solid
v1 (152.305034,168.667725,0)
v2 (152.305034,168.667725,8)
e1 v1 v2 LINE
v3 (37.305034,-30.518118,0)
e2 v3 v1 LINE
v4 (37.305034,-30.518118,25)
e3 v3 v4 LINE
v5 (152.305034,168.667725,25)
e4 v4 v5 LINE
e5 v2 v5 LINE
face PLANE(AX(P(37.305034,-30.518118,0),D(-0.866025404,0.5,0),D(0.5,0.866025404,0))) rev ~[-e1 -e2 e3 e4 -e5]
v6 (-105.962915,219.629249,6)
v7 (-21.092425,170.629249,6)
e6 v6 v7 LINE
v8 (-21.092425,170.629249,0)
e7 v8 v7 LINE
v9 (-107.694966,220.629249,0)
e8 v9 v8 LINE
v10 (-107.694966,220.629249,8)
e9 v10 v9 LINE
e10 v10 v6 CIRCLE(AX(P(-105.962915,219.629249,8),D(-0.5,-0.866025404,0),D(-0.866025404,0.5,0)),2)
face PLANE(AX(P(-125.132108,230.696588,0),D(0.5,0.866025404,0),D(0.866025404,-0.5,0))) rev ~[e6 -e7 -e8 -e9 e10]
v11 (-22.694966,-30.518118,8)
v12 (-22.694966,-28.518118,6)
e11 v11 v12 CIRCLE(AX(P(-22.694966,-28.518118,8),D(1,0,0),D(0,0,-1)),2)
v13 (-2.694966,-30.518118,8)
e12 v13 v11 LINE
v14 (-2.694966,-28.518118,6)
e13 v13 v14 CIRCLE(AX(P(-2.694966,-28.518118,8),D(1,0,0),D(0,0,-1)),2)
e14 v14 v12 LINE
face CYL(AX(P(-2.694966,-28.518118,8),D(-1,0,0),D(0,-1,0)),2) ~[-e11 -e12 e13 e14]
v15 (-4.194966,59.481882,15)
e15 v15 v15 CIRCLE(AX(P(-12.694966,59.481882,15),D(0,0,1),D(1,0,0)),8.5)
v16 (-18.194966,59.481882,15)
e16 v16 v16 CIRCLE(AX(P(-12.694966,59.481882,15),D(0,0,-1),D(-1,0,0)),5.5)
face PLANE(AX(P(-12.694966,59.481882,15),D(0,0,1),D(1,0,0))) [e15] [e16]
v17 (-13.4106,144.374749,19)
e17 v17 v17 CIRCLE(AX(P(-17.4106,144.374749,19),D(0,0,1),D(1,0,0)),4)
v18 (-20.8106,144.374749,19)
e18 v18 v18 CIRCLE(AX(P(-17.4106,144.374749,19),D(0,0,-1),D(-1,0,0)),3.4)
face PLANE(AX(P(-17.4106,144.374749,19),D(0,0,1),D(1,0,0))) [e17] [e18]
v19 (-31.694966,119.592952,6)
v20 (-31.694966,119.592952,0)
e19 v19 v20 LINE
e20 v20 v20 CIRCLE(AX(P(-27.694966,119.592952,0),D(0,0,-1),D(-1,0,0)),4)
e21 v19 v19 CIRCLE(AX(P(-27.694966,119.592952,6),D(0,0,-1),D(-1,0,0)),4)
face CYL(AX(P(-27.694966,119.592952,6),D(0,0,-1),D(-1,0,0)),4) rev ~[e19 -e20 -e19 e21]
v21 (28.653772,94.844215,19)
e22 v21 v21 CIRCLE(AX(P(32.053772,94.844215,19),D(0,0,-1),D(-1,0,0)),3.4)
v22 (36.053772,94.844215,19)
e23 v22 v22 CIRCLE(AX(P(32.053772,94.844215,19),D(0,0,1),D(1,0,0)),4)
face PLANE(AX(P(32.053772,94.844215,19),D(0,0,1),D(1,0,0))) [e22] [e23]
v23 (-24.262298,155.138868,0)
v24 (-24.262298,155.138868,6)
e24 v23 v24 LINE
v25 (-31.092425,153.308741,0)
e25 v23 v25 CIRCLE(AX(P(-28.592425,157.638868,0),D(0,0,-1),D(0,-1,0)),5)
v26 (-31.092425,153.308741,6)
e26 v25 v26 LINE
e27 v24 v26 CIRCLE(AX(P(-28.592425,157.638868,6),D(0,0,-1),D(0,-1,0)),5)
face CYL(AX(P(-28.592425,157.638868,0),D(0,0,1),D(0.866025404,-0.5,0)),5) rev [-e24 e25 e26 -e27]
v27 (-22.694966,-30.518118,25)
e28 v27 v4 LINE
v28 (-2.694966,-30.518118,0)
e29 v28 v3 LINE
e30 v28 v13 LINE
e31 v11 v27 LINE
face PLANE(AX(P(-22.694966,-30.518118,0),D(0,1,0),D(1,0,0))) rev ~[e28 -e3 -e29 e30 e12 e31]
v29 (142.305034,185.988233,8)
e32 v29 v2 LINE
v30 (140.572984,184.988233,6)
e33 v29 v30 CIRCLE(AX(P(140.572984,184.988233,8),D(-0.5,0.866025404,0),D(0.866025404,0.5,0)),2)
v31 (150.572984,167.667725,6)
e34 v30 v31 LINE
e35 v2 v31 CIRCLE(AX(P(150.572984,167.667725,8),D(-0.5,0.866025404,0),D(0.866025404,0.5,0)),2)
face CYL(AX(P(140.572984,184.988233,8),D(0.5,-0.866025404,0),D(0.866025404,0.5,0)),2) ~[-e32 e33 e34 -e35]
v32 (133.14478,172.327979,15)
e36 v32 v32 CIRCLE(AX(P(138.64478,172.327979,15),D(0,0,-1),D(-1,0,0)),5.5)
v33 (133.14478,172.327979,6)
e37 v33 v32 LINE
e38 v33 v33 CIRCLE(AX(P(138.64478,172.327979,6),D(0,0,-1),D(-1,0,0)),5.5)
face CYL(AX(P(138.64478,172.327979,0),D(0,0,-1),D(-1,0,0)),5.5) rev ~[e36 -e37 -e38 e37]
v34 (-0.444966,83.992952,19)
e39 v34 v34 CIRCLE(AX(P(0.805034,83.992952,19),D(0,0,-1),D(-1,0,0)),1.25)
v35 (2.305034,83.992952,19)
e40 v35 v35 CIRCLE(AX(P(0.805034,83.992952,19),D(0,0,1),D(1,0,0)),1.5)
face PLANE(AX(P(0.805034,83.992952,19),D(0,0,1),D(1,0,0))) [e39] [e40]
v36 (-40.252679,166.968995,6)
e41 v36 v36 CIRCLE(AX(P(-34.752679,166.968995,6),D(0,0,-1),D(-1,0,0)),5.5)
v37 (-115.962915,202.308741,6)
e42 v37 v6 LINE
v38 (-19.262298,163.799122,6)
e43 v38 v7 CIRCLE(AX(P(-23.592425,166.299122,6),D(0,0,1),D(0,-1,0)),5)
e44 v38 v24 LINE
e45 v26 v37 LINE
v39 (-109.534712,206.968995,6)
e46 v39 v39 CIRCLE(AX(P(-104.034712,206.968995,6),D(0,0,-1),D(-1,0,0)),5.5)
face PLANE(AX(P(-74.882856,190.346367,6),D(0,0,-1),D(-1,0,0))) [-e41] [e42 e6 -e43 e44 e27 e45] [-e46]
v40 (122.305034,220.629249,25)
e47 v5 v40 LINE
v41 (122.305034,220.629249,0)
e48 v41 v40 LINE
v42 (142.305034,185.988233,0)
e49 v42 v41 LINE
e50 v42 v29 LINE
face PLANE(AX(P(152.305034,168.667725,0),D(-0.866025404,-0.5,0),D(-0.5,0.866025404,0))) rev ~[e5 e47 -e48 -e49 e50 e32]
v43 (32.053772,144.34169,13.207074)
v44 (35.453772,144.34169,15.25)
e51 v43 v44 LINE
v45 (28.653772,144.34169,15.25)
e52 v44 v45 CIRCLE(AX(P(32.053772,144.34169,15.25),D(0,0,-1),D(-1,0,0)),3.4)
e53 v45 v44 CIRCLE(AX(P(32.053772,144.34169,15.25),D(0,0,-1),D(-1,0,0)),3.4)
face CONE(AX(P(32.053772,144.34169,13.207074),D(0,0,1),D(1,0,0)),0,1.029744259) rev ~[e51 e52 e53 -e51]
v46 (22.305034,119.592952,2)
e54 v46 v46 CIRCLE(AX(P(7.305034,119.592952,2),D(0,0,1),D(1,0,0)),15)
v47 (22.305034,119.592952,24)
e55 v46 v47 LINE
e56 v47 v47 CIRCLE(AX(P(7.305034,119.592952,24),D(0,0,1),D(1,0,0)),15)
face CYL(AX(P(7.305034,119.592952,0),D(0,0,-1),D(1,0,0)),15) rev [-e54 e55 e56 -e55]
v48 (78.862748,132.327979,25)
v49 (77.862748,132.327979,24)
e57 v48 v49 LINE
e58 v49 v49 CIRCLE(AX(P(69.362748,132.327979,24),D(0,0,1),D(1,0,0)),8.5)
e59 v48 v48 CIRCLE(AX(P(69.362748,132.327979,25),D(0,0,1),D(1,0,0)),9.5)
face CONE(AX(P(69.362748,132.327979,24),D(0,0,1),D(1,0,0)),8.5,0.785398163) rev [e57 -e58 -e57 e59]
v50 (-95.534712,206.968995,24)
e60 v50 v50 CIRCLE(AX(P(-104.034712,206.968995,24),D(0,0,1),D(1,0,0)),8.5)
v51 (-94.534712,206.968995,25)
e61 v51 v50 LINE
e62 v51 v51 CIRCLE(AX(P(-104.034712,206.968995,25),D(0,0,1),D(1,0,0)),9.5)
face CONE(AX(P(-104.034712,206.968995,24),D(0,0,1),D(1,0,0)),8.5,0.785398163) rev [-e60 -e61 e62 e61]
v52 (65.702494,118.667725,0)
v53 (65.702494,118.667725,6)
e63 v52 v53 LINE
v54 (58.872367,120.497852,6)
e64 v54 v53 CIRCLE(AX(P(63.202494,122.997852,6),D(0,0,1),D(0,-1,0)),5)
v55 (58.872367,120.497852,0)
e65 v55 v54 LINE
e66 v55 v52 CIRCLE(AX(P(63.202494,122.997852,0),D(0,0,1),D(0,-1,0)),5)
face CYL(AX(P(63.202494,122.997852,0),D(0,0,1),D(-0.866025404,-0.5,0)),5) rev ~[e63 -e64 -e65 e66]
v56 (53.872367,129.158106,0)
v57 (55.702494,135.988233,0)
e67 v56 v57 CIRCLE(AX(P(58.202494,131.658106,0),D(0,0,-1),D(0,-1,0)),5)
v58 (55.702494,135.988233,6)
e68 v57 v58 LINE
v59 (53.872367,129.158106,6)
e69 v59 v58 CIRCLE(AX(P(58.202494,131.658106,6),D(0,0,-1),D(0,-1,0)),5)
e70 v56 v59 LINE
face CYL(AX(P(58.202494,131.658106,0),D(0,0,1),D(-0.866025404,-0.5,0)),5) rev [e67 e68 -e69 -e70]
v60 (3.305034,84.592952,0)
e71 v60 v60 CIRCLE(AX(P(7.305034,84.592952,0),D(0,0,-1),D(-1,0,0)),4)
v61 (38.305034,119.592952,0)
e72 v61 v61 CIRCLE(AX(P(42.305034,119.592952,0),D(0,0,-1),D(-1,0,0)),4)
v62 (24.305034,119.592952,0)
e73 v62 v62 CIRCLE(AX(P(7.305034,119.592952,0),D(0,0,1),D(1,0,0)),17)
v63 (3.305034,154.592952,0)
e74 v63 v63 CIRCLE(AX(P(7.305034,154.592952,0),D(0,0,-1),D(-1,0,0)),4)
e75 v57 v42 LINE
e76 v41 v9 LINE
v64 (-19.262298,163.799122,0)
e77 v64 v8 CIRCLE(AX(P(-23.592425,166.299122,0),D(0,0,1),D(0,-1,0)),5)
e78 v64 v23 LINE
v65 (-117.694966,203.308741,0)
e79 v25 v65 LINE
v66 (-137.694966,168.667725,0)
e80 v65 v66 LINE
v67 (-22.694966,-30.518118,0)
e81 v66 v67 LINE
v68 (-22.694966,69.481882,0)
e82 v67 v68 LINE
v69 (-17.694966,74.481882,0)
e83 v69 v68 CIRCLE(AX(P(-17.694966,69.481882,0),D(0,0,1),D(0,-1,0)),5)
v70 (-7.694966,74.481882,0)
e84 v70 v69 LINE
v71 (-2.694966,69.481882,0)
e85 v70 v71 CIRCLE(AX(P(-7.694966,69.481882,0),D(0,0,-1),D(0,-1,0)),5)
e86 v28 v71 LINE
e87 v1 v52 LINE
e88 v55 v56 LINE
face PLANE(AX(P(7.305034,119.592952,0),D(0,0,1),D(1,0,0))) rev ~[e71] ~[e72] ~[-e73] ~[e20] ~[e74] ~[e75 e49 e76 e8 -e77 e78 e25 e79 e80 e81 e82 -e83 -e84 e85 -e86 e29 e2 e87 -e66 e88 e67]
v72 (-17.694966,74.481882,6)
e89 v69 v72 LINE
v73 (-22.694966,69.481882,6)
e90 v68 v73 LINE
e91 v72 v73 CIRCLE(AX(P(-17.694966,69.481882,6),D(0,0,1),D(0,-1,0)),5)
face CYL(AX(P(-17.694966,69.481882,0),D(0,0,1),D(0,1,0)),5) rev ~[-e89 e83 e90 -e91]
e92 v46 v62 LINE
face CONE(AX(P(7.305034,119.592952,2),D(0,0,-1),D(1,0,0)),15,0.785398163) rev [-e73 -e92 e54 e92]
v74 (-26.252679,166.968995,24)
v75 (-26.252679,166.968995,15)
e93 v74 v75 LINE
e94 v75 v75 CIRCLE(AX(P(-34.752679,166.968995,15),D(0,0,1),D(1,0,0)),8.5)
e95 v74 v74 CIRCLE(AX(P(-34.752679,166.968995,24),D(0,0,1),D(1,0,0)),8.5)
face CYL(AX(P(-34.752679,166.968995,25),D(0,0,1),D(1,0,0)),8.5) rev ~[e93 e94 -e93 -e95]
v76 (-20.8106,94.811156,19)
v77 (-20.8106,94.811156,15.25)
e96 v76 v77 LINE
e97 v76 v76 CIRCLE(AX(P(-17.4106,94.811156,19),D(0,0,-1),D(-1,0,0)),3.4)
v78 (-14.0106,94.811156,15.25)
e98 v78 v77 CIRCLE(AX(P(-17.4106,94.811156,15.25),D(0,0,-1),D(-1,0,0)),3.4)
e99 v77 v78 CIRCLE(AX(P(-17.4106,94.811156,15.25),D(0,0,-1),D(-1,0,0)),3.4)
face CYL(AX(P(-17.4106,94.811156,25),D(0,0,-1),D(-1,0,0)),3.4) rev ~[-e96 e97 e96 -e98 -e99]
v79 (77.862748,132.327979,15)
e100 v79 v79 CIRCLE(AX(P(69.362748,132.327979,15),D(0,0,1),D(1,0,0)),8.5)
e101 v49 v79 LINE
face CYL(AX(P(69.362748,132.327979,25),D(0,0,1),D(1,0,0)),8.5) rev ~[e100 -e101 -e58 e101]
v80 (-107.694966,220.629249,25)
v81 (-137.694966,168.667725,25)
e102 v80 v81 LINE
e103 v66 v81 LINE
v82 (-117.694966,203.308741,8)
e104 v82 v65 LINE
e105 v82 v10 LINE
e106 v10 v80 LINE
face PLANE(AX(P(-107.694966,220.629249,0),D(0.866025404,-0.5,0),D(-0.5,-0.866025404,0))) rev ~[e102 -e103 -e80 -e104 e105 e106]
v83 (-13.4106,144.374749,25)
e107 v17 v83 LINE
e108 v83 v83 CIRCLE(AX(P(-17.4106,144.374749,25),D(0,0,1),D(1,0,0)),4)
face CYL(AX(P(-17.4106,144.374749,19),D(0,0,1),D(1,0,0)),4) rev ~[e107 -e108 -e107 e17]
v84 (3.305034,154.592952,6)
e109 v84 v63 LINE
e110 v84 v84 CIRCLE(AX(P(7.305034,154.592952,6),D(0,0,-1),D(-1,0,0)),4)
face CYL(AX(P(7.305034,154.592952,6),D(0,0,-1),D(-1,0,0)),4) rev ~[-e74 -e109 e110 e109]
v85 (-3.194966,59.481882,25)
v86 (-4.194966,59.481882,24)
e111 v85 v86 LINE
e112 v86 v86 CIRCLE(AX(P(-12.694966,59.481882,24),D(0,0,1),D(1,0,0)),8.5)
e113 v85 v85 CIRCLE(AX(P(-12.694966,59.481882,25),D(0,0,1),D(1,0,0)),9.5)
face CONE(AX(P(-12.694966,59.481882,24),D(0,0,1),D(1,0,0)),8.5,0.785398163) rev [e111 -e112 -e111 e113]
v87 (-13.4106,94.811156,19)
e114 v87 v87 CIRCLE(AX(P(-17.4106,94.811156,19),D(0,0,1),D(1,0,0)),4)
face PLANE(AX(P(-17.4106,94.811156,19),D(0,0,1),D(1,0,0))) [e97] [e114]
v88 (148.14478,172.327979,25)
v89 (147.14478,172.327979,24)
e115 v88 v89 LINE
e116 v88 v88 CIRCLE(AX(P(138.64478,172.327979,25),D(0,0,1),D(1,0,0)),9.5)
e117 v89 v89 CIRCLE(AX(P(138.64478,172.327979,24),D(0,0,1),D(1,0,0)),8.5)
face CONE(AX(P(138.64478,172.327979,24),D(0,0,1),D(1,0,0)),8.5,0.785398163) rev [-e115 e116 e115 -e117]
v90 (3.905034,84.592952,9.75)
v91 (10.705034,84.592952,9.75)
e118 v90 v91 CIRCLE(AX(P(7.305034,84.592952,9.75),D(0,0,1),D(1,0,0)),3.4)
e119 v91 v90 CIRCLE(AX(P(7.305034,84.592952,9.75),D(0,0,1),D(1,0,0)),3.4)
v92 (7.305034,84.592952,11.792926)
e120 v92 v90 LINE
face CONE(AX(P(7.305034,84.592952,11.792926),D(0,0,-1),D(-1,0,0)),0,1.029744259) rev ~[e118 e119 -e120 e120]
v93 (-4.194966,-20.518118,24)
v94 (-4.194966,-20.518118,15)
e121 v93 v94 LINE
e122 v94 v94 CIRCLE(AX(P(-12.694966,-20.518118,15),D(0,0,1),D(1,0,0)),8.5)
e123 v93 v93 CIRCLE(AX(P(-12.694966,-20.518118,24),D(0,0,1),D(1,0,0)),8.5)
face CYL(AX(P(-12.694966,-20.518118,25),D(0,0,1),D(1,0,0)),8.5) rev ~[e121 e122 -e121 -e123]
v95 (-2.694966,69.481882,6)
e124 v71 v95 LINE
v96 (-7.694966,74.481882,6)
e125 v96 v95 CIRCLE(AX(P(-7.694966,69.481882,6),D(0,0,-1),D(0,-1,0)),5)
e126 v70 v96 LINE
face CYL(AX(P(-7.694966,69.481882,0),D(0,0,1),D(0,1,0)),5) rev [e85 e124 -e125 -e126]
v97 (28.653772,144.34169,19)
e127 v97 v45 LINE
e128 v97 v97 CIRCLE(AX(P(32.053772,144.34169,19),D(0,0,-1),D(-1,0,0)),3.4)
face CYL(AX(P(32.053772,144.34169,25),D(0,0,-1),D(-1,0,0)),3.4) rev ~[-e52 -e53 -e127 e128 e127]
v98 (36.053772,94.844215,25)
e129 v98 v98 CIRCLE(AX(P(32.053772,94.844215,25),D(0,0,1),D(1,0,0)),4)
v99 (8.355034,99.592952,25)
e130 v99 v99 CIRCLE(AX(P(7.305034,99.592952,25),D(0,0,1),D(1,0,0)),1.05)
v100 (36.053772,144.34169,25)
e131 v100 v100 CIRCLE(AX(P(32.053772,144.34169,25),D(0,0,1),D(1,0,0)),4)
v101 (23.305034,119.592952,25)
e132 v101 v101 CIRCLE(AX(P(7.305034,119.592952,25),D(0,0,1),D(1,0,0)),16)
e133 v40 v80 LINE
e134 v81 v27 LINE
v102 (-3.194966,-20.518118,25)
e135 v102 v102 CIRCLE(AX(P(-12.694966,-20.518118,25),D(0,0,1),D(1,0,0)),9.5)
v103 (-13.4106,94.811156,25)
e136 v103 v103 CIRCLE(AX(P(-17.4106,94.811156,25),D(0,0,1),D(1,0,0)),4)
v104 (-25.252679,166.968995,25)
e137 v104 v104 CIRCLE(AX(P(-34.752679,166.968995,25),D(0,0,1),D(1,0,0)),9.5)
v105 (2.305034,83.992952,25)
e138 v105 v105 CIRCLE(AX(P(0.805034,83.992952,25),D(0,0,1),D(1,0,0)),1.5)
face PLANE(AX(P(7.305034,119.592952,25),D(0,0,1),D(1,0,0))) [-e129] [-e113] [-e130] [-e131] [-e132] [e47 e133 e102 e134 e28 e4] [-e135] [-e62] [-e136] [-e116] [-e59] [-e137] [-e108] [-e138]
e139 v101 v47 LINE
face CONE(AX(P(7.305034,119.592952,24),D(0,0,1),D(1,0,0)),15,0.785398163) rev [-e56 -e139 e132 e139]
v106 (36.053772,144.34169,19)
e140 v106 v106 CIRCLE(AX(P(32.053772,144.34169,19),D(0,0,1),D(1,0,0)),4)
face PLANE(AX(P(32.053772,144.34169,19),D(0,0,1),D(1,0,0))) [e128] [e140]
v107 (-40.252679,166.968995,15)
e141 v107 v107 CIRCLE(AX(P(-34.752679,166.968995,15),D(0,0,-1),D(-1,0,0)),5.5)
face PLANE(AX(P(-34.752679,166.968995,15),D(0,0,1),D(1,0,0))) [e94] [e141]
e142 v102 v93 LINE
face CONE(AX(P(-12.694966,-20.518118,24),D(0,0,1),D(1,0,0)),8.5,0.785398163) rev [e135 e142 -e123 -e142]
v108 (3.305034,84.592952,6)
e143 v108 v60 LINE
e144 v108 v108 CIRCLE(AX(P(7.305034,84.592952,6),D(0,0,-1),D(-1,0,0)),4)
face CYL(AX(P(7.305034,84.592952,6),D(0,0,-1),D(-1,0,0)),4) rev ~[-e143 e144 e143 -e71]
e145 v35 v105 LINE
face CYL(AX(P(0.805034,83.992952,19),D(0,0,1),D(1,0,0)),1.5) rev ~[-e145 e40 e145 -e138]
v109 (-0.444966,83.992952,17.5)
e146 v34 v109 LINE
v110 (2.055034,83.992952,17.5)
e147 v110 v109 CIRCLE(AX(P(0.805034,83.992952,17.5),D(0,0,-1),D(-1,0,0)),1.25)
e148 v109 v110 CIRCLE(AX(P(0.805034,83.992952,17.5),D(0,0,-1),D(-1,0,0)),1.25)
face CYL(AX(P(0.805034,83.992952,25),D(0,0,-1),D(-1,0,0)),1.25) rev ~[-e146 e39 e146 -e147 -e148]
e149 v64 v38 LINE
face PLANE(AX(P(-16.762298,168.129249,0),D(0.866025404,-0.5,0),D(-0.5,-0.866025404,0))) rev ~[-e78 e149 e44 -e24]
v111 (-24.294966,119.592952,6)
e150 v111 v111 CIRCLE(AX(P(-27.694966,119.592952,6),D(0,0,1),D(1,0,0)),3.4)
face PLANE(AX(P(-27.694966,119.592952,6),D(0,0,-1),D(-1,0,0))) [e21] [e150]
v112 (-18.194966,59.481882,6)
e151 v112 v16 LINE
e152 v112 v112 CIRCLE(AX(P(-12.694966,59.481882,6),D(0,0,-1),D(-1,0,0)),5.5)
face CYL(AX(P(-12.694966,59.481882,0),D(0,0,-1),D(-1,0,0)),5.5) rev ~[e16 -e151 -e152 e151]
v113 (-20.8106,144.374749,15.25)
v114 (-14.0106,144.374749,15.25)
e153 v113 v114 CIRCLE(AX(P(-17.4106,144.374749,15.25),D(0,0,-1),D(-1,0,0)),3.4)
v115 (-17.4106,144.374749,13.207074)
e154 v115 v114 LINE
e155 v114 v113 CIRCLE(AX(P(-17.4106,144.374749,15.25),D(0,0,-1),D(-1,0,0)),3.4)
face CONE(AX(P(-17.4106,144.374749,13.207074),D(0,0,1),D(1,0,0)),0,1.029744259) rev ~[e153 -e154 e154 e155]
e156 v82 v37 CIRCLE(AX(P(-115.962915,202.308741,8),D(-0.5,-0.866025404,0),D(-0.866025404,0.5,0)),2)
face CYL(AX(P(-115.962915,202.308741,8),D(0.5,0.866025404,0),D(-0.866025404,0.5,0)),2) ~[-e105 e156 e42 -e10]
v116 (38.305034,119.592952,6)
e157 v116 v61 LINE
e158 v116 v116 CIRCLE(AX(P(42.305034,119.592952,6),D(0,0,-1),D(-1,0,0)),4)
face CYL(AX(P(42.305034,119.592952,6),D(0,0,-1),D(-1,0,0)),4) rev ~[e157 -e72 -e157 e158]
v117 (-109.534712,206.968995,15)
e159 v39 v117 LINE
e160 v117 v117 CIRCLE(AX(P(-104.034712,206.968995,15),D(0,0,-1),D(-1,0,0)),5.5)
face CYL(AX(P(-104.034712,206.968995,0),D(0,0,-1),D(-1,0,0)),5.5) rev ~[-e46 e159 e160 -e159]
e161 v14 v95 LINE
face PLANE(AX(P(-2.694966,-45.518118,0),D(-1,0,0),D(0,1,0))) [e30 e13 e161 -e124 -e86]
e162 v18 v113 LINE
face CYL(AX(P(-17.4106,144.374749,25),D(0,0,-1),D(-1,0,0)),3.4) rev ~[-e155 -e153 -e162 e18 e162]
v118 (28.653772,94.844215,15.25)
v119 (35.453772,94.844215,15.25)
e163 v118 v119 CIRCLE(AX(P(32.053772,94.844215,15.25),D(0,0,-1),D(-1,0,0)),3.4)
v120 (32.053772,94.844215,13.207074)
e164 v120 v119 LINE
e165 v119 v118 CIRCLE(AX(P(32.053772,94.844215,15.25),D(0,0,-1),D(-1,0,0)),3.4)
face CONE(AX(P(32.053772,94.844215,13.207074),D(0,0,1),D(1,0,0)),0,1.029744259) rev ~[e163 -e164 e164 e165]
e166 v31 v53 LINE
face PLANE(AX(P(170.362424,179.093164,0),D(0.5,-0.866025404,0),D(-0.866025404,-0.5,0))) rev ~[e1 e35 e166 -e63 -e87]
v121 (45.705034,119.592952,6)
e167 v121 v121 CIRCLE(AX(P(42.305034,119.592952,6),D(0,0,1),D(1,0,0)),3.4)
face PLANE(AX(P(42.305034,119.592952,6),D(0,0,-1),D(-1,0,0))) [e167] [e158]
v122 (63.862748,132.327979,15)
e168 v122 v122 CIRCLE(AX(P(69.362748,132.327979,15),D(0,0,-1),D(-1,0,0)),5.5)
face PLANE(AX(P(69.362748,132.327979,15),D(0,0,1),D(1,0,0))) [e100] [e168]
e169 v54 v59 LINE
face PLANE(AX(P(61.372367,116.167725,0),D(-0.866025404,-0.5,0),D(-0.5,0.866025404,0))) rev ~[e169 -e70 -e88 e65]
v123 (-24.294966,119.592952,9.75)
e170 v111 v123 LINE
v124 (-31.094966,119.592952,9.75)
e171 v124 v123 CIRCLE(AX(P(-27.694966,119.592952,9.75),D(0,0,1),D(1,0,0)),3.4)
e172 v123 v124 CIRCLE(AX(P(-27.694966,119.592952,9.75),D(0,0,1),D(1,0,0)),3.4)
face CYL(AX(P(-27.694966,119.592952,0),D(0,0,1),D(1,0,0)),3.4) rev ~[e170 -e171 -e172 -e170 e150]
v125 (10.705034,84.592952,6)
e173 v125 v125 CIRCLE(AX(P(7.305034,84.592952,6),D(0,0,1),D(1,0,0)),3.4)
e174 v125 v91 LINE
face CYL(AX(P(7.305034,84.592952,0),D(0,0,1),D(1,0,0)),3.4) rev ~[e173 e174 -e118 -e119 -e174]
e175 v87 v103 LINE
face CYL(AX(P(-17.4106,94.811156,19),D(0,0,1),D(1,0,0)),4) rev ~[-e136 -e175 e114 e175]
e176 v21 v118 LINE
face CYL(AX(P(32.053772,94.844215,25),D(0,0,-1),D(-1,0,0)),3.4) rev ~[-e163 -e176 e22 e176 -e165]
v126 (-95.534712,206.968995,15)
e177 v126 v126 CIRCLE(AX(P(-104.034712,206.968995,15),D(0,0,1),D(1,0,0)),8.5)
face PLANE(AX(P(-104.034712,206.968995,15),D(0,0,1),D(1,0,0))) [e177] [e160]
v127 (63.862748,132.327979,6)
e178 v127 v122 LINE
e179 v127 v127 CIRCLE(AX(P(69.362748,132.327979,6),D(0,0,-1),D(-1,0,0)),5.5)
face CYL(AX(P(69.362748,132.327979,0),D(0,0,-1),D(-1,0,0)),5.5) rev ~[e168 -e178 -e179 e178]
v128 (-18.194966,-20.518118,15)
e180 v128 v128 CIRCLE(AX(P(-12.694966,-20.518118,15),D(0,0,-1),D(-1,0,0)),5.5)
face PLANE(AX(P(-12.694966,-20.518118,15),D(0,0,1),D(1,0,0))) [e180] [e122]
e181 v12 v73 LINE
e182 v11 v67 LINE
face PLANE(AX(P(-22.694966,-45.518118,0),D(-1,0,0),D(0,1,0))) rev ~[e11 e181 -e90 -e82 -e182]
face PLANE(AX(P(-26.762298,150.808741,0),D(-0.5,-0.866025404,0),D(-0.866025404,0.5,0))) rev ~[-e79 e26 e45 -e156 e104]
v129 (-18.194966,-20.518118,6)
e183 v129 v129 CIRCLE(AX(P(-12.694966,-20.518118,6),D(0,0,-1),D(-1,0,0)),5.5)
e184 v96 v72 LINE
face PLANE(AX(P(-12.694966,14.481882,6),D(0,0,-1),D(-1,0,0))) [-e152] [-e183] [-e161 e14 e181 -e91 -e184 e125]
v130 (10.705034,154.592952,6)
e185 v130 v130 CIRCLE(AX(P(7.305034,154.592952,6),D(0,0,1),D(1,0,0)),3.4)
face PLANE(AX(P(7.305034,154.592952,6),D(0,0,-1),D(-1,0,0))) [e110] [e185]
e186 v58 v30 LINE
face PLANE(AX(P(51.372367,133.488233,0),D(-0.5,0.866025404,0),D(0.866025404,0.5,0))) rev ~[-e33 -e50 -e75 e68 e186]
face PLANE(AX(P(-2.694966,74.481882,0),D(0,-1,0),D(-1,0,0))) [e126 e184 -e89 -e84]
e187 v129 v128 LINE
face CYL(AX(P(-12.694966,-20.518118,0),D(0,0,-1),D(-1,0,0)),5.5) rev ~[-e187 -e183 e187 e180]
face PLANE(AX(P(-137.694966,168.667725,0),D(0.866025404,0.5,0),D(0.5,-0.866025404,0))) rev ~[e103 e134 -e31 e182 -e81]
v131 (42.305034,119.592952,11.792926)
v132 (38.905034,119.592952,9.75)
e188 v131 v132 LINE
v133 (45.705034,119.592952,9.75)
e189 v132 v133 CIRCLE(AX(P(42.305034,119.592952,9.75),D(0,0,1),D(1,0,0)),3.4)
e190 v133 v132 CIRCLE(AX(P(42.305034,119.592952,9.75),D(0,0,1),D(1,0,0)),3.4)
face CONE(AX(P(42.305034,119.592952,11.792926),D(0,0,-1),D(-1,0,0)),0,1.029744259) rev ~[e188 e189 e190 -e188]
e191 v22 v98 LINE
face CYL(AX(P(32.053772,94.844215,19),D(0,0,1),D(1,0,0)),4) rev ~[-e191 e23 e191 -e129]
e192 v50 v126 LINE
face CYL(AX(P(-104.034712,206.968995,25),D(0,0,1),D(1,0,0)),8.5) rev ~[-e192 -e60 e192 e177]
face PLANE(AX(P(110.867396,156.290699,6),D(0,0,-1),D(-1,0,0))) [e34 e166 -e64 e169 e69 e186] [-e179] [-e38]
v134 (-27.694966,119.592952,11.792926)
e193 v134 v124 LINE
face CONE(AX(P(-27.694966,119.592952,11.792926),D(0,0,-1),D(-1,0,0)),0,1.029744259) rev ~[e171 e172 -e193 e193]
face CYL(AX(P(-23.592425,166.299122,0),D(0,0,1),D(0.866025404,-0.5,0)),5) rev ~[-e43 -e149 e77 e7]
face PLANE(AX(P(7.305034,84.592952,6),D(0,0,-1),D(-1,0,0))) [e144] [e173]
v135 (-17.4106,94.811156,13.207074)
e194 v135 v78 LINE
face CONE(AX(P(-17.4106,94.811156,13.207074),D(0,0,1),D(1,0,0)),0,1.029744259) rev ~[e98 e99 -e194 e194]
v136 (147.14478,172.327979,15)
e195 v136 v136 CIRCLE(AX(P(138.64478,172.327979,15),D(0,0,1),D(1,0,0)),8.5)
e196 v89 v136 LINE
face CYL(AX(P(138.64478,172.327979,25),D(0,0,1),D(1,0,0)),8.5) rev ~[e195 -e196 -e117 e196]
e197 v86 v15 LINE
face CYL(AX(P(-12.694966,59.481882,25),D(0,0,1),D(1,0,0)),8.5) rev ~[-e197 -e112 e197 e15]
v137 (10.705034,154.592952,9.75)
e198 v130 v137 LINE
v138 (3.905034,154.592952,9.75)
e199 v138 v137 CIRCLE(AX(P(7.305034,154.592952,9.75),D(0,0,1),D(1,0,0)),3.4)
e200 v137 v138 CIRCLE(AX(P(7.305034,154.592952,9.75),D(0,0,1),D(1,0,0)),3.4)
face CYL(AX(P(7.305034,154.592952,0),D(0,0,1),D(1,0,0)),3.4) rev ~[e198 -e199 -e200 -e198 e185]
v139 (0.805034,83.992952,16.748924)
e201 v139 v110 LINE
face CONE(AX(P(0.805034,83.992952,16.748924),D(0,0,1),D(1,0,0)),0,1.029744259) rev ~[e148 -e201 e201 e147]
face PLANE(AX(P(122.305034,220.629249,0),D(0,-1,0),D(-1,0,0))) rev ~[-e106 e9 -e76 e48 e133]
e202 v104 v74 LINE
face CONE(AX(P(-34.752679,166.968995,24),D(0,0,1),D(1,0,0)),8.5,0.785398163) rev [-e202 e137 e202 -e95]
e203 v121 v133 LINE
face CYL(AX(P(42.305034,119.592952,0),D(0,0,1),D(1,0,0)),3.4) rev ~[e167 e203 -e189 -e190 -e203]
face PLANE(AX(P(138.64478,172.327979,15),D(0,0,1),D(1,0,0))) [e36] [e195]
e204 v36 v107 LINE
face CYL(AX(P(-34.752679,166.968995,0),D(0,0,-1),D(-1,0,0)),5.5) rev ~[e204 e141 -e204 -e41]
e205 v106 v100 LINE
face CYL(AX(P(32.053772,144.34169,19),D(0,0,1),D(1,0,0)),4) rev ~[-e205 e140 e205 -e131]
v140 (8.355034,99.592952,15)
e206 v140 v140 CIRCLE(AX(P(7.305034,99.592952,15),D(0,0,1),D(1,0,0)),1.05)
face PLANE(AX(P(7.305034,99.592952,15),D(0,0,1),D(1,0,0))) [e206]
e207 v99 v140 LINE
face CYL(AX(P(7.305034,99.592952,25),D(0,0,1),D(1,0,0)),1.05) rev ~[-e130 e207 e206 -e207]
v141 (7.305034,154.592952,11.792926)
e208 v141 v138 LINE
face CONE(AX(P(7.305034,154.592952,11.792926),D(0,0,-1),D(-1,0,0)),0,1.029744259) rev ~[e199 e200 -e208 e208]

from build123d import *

# Parameters (mm, degrees)
SKETCH_1_R                   = 15
EXTRUDE_1_DEPTH              = 25
SKETCH_5_W                   = 20
SKETCH_5_H                   = 120
CUT_EXTRUDE_1_DEPTH          = 6
FILLET_1_R                   = 5
FILLET_2_R                   = 5
FILLET_3_R                   = 5
FILLET_4_R                   = 5
FILLET_5_R                   = 5
FILLET_6_R                   = 5
SKETCH_7_R                   = 5.5
CUT_EXTRUDE_2_DEPTH          = 270.256549022
SKETCH_8_R                   = 8.5
CUT_EXTRUDE_3_DEPTH          = 10
HOLE_WIZARD_M8_1_D           = 6.8
HOLE_WIZARD_M8_1_DEPTH       = 9.75
HOLE_WIZARD_M8_1_CBORE_D     = 8
HOLE_WIZARD_M8_1_CBORE_DEPTH = 6
HOLE_WIZARD_M8_1_TIP         = 2.042926105
HOLE_WIZARD_M8_2_D           = 6.8
HOLE_WIZARD_M8_2_DEPTH       = 9.75
HOLE_WIZARD_M8_2_CBORE_D     = 8
HOLE_WIZARD_M8_2_CBORE_DEPTH = 6
HOLE_WIZARD_M8_2_TIP         = 2.042926105
FILLET_7_R                   = 2
CHAMFER_1_SIZE               = 2
CHAMFER_2_SIZE               = 1
CHAMFER_3_SIZE               = 1
HOLE_WIZARD_M3_1_D           = 2.5
HOLE_WIZARD_M3_1_DEPTH       = 7.5
HOLE_WIZARD_M3_1_CBORE_D     = 3
HOLE_WIZARD_M3_1_CBORE_DEPTH = 6
HOLE_WIZARD_M3_1_TIP         = 0.751075774
SKETCH_15_R                  = 1.05
CUT_EXTRUDE_4_DEPTH          = 10


with BuildPart() as part:
    # 草图1 → 拉伸1 (new body)
    with BuildSketch(Plane.XY):
        Polygon((-107.694965591, 220.629249387), (-137.694965591, 168.66772516), (-22.694965591, -30.518117711), (37.305034409, -30.518117711), (152.305034409, 168.66772516), (122.305034409, 220.629249387), align=None)
        with Locations((7.305034409, 119.592952279)):
            Circle(SKETCH_1_R, mode=Mode.SUBTRACT)
    extrude(amount=EXTRUDE_1_DEPTH)

    # 草图5 → 切除-拉伸1 (cut)
    with BuildSketch(Plane(origin=(0, 0, 0), x_dir=(-1, 0, 0), z_dir=(0, 0, -1))):
        Polygon((26.762298194, 150.808741311), (130.669741536, 210.799731695), (125.132108132, 230.696588327), (16.762298194, 168.129249387), align=None)
        Polygon((-170.362424446, 179.093164159), (-61.372367011, 116.16772516), (-51.372367011, 133.488233235), (-160.362424446, 196.413672234), align=None)
        with Locations((12.694965591, 14.481882289)):
            Rectangle(SKETCH_5_W, SKETCH_5_H)
    extrude(amount=-CUT_EXTRUDE_1_DEPTH, mode=Mode.SUBTRACT)

    # 圆角1
    fillet_1_edges = [part.edges().sort_by_distance(p)[0] for p in [
        (-16.762298194, 168.129249387, 3),
    ]]
    fillet(fillet_1_edges, radius=FILLET_1_R)

    # 圆角2
    fillet_2_edges = [part.edges().sort_by_distance(p)[0] for p in [
        (-26.762298194, 150.808741311, 3),
    ]]
    fillet(fillet_2_edges, radius=FILLET_2_R)

    # 圆角3
    fillet_3_edges = [part.edges().sort_by_distance(p)[0] for p in [
        (61.372367011, 116.16772516, 3),
    ]]
    fillet(fillet_3_edges, radius=FILLET_3_R)

    # 圆角4
    fillet_4_edges = [part.edges().sort_by_distance(p)[0] for p in [
        (51.372367011, 133.488233235, 3),
    ]]
    fillet(fillet_4_edges, radius=FILLET_4_R)

    # 圆角5
    fillet_5_edges = [part.edges().sort_by_distance(p)[0] for p in [
        (-22.694965591, 74.481882289, 3),
    ]]
    fillet(fillet_5_edges, radius=FILLET_5_R)

    # 圆角6
    fillet_6_edges = [part.edges().sort_by_distance(p)[0] for p in [
        (-2.694965591, 74.481882289, 3),
    ]]
    fillet(fillet_6_edges, radius=FILLET_6_R)

    # 草图7 → 切除-拉伸2 (cut, through all)
    with BuildSketch(Plane(origin=(0, 0, 0), x_dir=(-1, 0, 0), z_dir=(0, 0, -1))):
        with Locations((104.034711553, 206.968995349)):
            Circle(SKETCH_7_R)
        with Locations((34.752679251, 166.968995349)):
            Circle(SKETCH_7_R)
        with Locations((-138.644780371, 172.327979198)):
            Circle(SKETCH_7_R)
        with Locations((-69.362748068, 132.327979198)):
            Circle(SKETCH_7_R)
        with Locations((12.694965591, 59.481882289)):
            Circle(SKETCH_7_R)
        with Locations((12.694965591, -20.518117711)):
            Circle(SKETCH_7_R)
    extrude(amount=-CUT_EXTRUDE_2_DEPTH, mode=Mode.SUBTRACT)

    # 草图8 → 切除-拉伸3 (cut)
    with BuildSketch(Plane.XY.offset(25)):
        with Locations((-12.694965591, 59.481882289)):
            Circle(SKETCH_8_R)
        with Locations((-12.694965591, -20.518117711)):
            Circle(SKETCH_8_R)
        with Locations((69.362748068, 132.327979198)):
            Circle(SKETCH_8_R)
        with Locations((138.644780371, 172.327979198)):
            Circle(SKETCH_8_R)
        with Locations((-34.752679251, 166.968995349)):
            Circle(SKETCH_8_R)
        with Locations((-104.034711553, 206.968995349)):
            Circle(SKETCH_8_R)
    extrude(amount=-CUT_EXTRUDE_3_DEPTH, mode=Mode.SUBTRACT)

    # M8 螺纹孔1
    with Locations(Plane(origin=(0, 0, 0), x_dir=(-1, 0, 0), z_dir=(0, 0, -1))):
        with Locations((-42.305034409, 119.592952279), (-7.305034409, 154.592952279), (27.694965591, 119.592952279), (-7.305034409, 84.592952279)):
            CounterBoreHole(HOLE_WIZARD_M8_1_D / 2, HOLE_WIZARD_M8_1_CBORE_D / 2, HOLE_WIZARD_M8_1_CBORE_DEPTH, depth=HOLE_WIZARD_M8_1_DEPTH)
            with Locations((0, 0, -(HOLE_WIZARD_M8_1_DEPTH + HOLE_WIZARD_M8_1_TIP / 2))):  # 118° drill point
                Cone(0, HOLE_WIZARD_M8_1_D / 2, HOLE_WIZARD_M8_1_TIP, mode=Mode.SUBTRACT)

    # M8 螺纹孔2
    with Locations(Plane.XY.offset(25)):
        with Locations((32.05377175, 94.844214937), (32.05377175, 144.34168962), (-17.410599553, 144.374748781), (-17.410599553, 94.811155776)):
            CounterBoreHole(HOLE_WIZARD_M8_2_D / 2, HOLE_WIZARD_M8_2_CBORE_D / 2, HOLE_WIZARD_M8_2_CBORE_DEPTH, depth=HOLE_WIZARD_M8_2_DEPTH)
            with Locations((0, 0, -(HOLE_WIZARD_M8_2_DEPTH + HOLE_WIZARD_M8_2_TIP / 2))):  # 118° drill point
                Cone(0, HOLE_WIZARD_M8_2_D / 2, HOLE_WIZARD_M8_2_TIP, mode=Mode.SUBTRACT)

    # 圆角7
    fillet_7_edges = [part.edges().sort_by_distance(p)[0] for p in [
        (147.305034409, 177.327979198, 6),
        (-112.694965591, 211.968995349, 6),
        (-12.694965591, -30.518117711, 6),
    ]]
    fillet(fillet_7_edges, radius=FILLET_7_R)

    # 倒角1
    chamfer_1_edges = [part.edges().sort_by_distance(p)[0] for p in [
        (-7.694965591, 119.592952279, 0),
    ]]
    chamfer(chamfer_1_edges, length=CHAMFER_1_SIZE)

    # 倒角2
    chamfer_2_edges = [part.edges().sort_by_distance(p)[0] for p in [
        (-112.534711553, 206.968995349, 25),
    ]]
    chamfer(chamfer_2_edges, length=CHAMFER_2_SIZE)

    # 倒角3
    chamfer_3_edges = [part.edges().sort_by_distance(p)[0] for p in [
        (-21.194965591, 59.481882289, 25),
        (-21.194965591, -20.518117711, 25),
        (60.862748068, 132.327979198, 25),
        (130.144780371, 172.327979198, 25),
        (-7.694965591, 119.592952279, 25),
        (-43.252679251, 166.968995349, 25),
    ]]
    chamfer(chamfer_3_edges, length=CHAMFER_3_SIZE)

    # M3 螺纹孔1
    with Locations(Plane(origin=(0.805034409, 83.992952279, 25), x_dir=(1, 0, 0), z_dir=(0, 0, 1))):
        with Locations((0, 0)):
            CounterBoreHole(HOLE_WIZARD_M3_1_D / 2, HOLE_WIZARD_M3_1_CBORE_D / 2, HOLE_WIZARD_M3_1_CBORE_DEPTH, depth=HOLE_WIZARD_M3_1_DEPTH)
            with Locations((0, 0, -(HOLE_WIZARD_M3_1_DEPTH + HOLE_WIZARD_M3_1_TIP / 2))):  # 118° drill point
                Cone(0, HOLE_WIZARD_M3_1_D / 2, HOLE_WIZARD_M3_1_TIP, mode=Mode.SUBTRACT)

    # 草图15 → 切除-拉伸4 (cut)
    with BuildSketch(Plane.XY.offset(25)):
        with Locations((7.305034409, 99.592952279)):
            Circle(SKETCH_15_R)
    extrude(amount=-CUT_EXTRUDE_4_DEPTH, mode=Mode.SUBTRACT)


solid = part.part
